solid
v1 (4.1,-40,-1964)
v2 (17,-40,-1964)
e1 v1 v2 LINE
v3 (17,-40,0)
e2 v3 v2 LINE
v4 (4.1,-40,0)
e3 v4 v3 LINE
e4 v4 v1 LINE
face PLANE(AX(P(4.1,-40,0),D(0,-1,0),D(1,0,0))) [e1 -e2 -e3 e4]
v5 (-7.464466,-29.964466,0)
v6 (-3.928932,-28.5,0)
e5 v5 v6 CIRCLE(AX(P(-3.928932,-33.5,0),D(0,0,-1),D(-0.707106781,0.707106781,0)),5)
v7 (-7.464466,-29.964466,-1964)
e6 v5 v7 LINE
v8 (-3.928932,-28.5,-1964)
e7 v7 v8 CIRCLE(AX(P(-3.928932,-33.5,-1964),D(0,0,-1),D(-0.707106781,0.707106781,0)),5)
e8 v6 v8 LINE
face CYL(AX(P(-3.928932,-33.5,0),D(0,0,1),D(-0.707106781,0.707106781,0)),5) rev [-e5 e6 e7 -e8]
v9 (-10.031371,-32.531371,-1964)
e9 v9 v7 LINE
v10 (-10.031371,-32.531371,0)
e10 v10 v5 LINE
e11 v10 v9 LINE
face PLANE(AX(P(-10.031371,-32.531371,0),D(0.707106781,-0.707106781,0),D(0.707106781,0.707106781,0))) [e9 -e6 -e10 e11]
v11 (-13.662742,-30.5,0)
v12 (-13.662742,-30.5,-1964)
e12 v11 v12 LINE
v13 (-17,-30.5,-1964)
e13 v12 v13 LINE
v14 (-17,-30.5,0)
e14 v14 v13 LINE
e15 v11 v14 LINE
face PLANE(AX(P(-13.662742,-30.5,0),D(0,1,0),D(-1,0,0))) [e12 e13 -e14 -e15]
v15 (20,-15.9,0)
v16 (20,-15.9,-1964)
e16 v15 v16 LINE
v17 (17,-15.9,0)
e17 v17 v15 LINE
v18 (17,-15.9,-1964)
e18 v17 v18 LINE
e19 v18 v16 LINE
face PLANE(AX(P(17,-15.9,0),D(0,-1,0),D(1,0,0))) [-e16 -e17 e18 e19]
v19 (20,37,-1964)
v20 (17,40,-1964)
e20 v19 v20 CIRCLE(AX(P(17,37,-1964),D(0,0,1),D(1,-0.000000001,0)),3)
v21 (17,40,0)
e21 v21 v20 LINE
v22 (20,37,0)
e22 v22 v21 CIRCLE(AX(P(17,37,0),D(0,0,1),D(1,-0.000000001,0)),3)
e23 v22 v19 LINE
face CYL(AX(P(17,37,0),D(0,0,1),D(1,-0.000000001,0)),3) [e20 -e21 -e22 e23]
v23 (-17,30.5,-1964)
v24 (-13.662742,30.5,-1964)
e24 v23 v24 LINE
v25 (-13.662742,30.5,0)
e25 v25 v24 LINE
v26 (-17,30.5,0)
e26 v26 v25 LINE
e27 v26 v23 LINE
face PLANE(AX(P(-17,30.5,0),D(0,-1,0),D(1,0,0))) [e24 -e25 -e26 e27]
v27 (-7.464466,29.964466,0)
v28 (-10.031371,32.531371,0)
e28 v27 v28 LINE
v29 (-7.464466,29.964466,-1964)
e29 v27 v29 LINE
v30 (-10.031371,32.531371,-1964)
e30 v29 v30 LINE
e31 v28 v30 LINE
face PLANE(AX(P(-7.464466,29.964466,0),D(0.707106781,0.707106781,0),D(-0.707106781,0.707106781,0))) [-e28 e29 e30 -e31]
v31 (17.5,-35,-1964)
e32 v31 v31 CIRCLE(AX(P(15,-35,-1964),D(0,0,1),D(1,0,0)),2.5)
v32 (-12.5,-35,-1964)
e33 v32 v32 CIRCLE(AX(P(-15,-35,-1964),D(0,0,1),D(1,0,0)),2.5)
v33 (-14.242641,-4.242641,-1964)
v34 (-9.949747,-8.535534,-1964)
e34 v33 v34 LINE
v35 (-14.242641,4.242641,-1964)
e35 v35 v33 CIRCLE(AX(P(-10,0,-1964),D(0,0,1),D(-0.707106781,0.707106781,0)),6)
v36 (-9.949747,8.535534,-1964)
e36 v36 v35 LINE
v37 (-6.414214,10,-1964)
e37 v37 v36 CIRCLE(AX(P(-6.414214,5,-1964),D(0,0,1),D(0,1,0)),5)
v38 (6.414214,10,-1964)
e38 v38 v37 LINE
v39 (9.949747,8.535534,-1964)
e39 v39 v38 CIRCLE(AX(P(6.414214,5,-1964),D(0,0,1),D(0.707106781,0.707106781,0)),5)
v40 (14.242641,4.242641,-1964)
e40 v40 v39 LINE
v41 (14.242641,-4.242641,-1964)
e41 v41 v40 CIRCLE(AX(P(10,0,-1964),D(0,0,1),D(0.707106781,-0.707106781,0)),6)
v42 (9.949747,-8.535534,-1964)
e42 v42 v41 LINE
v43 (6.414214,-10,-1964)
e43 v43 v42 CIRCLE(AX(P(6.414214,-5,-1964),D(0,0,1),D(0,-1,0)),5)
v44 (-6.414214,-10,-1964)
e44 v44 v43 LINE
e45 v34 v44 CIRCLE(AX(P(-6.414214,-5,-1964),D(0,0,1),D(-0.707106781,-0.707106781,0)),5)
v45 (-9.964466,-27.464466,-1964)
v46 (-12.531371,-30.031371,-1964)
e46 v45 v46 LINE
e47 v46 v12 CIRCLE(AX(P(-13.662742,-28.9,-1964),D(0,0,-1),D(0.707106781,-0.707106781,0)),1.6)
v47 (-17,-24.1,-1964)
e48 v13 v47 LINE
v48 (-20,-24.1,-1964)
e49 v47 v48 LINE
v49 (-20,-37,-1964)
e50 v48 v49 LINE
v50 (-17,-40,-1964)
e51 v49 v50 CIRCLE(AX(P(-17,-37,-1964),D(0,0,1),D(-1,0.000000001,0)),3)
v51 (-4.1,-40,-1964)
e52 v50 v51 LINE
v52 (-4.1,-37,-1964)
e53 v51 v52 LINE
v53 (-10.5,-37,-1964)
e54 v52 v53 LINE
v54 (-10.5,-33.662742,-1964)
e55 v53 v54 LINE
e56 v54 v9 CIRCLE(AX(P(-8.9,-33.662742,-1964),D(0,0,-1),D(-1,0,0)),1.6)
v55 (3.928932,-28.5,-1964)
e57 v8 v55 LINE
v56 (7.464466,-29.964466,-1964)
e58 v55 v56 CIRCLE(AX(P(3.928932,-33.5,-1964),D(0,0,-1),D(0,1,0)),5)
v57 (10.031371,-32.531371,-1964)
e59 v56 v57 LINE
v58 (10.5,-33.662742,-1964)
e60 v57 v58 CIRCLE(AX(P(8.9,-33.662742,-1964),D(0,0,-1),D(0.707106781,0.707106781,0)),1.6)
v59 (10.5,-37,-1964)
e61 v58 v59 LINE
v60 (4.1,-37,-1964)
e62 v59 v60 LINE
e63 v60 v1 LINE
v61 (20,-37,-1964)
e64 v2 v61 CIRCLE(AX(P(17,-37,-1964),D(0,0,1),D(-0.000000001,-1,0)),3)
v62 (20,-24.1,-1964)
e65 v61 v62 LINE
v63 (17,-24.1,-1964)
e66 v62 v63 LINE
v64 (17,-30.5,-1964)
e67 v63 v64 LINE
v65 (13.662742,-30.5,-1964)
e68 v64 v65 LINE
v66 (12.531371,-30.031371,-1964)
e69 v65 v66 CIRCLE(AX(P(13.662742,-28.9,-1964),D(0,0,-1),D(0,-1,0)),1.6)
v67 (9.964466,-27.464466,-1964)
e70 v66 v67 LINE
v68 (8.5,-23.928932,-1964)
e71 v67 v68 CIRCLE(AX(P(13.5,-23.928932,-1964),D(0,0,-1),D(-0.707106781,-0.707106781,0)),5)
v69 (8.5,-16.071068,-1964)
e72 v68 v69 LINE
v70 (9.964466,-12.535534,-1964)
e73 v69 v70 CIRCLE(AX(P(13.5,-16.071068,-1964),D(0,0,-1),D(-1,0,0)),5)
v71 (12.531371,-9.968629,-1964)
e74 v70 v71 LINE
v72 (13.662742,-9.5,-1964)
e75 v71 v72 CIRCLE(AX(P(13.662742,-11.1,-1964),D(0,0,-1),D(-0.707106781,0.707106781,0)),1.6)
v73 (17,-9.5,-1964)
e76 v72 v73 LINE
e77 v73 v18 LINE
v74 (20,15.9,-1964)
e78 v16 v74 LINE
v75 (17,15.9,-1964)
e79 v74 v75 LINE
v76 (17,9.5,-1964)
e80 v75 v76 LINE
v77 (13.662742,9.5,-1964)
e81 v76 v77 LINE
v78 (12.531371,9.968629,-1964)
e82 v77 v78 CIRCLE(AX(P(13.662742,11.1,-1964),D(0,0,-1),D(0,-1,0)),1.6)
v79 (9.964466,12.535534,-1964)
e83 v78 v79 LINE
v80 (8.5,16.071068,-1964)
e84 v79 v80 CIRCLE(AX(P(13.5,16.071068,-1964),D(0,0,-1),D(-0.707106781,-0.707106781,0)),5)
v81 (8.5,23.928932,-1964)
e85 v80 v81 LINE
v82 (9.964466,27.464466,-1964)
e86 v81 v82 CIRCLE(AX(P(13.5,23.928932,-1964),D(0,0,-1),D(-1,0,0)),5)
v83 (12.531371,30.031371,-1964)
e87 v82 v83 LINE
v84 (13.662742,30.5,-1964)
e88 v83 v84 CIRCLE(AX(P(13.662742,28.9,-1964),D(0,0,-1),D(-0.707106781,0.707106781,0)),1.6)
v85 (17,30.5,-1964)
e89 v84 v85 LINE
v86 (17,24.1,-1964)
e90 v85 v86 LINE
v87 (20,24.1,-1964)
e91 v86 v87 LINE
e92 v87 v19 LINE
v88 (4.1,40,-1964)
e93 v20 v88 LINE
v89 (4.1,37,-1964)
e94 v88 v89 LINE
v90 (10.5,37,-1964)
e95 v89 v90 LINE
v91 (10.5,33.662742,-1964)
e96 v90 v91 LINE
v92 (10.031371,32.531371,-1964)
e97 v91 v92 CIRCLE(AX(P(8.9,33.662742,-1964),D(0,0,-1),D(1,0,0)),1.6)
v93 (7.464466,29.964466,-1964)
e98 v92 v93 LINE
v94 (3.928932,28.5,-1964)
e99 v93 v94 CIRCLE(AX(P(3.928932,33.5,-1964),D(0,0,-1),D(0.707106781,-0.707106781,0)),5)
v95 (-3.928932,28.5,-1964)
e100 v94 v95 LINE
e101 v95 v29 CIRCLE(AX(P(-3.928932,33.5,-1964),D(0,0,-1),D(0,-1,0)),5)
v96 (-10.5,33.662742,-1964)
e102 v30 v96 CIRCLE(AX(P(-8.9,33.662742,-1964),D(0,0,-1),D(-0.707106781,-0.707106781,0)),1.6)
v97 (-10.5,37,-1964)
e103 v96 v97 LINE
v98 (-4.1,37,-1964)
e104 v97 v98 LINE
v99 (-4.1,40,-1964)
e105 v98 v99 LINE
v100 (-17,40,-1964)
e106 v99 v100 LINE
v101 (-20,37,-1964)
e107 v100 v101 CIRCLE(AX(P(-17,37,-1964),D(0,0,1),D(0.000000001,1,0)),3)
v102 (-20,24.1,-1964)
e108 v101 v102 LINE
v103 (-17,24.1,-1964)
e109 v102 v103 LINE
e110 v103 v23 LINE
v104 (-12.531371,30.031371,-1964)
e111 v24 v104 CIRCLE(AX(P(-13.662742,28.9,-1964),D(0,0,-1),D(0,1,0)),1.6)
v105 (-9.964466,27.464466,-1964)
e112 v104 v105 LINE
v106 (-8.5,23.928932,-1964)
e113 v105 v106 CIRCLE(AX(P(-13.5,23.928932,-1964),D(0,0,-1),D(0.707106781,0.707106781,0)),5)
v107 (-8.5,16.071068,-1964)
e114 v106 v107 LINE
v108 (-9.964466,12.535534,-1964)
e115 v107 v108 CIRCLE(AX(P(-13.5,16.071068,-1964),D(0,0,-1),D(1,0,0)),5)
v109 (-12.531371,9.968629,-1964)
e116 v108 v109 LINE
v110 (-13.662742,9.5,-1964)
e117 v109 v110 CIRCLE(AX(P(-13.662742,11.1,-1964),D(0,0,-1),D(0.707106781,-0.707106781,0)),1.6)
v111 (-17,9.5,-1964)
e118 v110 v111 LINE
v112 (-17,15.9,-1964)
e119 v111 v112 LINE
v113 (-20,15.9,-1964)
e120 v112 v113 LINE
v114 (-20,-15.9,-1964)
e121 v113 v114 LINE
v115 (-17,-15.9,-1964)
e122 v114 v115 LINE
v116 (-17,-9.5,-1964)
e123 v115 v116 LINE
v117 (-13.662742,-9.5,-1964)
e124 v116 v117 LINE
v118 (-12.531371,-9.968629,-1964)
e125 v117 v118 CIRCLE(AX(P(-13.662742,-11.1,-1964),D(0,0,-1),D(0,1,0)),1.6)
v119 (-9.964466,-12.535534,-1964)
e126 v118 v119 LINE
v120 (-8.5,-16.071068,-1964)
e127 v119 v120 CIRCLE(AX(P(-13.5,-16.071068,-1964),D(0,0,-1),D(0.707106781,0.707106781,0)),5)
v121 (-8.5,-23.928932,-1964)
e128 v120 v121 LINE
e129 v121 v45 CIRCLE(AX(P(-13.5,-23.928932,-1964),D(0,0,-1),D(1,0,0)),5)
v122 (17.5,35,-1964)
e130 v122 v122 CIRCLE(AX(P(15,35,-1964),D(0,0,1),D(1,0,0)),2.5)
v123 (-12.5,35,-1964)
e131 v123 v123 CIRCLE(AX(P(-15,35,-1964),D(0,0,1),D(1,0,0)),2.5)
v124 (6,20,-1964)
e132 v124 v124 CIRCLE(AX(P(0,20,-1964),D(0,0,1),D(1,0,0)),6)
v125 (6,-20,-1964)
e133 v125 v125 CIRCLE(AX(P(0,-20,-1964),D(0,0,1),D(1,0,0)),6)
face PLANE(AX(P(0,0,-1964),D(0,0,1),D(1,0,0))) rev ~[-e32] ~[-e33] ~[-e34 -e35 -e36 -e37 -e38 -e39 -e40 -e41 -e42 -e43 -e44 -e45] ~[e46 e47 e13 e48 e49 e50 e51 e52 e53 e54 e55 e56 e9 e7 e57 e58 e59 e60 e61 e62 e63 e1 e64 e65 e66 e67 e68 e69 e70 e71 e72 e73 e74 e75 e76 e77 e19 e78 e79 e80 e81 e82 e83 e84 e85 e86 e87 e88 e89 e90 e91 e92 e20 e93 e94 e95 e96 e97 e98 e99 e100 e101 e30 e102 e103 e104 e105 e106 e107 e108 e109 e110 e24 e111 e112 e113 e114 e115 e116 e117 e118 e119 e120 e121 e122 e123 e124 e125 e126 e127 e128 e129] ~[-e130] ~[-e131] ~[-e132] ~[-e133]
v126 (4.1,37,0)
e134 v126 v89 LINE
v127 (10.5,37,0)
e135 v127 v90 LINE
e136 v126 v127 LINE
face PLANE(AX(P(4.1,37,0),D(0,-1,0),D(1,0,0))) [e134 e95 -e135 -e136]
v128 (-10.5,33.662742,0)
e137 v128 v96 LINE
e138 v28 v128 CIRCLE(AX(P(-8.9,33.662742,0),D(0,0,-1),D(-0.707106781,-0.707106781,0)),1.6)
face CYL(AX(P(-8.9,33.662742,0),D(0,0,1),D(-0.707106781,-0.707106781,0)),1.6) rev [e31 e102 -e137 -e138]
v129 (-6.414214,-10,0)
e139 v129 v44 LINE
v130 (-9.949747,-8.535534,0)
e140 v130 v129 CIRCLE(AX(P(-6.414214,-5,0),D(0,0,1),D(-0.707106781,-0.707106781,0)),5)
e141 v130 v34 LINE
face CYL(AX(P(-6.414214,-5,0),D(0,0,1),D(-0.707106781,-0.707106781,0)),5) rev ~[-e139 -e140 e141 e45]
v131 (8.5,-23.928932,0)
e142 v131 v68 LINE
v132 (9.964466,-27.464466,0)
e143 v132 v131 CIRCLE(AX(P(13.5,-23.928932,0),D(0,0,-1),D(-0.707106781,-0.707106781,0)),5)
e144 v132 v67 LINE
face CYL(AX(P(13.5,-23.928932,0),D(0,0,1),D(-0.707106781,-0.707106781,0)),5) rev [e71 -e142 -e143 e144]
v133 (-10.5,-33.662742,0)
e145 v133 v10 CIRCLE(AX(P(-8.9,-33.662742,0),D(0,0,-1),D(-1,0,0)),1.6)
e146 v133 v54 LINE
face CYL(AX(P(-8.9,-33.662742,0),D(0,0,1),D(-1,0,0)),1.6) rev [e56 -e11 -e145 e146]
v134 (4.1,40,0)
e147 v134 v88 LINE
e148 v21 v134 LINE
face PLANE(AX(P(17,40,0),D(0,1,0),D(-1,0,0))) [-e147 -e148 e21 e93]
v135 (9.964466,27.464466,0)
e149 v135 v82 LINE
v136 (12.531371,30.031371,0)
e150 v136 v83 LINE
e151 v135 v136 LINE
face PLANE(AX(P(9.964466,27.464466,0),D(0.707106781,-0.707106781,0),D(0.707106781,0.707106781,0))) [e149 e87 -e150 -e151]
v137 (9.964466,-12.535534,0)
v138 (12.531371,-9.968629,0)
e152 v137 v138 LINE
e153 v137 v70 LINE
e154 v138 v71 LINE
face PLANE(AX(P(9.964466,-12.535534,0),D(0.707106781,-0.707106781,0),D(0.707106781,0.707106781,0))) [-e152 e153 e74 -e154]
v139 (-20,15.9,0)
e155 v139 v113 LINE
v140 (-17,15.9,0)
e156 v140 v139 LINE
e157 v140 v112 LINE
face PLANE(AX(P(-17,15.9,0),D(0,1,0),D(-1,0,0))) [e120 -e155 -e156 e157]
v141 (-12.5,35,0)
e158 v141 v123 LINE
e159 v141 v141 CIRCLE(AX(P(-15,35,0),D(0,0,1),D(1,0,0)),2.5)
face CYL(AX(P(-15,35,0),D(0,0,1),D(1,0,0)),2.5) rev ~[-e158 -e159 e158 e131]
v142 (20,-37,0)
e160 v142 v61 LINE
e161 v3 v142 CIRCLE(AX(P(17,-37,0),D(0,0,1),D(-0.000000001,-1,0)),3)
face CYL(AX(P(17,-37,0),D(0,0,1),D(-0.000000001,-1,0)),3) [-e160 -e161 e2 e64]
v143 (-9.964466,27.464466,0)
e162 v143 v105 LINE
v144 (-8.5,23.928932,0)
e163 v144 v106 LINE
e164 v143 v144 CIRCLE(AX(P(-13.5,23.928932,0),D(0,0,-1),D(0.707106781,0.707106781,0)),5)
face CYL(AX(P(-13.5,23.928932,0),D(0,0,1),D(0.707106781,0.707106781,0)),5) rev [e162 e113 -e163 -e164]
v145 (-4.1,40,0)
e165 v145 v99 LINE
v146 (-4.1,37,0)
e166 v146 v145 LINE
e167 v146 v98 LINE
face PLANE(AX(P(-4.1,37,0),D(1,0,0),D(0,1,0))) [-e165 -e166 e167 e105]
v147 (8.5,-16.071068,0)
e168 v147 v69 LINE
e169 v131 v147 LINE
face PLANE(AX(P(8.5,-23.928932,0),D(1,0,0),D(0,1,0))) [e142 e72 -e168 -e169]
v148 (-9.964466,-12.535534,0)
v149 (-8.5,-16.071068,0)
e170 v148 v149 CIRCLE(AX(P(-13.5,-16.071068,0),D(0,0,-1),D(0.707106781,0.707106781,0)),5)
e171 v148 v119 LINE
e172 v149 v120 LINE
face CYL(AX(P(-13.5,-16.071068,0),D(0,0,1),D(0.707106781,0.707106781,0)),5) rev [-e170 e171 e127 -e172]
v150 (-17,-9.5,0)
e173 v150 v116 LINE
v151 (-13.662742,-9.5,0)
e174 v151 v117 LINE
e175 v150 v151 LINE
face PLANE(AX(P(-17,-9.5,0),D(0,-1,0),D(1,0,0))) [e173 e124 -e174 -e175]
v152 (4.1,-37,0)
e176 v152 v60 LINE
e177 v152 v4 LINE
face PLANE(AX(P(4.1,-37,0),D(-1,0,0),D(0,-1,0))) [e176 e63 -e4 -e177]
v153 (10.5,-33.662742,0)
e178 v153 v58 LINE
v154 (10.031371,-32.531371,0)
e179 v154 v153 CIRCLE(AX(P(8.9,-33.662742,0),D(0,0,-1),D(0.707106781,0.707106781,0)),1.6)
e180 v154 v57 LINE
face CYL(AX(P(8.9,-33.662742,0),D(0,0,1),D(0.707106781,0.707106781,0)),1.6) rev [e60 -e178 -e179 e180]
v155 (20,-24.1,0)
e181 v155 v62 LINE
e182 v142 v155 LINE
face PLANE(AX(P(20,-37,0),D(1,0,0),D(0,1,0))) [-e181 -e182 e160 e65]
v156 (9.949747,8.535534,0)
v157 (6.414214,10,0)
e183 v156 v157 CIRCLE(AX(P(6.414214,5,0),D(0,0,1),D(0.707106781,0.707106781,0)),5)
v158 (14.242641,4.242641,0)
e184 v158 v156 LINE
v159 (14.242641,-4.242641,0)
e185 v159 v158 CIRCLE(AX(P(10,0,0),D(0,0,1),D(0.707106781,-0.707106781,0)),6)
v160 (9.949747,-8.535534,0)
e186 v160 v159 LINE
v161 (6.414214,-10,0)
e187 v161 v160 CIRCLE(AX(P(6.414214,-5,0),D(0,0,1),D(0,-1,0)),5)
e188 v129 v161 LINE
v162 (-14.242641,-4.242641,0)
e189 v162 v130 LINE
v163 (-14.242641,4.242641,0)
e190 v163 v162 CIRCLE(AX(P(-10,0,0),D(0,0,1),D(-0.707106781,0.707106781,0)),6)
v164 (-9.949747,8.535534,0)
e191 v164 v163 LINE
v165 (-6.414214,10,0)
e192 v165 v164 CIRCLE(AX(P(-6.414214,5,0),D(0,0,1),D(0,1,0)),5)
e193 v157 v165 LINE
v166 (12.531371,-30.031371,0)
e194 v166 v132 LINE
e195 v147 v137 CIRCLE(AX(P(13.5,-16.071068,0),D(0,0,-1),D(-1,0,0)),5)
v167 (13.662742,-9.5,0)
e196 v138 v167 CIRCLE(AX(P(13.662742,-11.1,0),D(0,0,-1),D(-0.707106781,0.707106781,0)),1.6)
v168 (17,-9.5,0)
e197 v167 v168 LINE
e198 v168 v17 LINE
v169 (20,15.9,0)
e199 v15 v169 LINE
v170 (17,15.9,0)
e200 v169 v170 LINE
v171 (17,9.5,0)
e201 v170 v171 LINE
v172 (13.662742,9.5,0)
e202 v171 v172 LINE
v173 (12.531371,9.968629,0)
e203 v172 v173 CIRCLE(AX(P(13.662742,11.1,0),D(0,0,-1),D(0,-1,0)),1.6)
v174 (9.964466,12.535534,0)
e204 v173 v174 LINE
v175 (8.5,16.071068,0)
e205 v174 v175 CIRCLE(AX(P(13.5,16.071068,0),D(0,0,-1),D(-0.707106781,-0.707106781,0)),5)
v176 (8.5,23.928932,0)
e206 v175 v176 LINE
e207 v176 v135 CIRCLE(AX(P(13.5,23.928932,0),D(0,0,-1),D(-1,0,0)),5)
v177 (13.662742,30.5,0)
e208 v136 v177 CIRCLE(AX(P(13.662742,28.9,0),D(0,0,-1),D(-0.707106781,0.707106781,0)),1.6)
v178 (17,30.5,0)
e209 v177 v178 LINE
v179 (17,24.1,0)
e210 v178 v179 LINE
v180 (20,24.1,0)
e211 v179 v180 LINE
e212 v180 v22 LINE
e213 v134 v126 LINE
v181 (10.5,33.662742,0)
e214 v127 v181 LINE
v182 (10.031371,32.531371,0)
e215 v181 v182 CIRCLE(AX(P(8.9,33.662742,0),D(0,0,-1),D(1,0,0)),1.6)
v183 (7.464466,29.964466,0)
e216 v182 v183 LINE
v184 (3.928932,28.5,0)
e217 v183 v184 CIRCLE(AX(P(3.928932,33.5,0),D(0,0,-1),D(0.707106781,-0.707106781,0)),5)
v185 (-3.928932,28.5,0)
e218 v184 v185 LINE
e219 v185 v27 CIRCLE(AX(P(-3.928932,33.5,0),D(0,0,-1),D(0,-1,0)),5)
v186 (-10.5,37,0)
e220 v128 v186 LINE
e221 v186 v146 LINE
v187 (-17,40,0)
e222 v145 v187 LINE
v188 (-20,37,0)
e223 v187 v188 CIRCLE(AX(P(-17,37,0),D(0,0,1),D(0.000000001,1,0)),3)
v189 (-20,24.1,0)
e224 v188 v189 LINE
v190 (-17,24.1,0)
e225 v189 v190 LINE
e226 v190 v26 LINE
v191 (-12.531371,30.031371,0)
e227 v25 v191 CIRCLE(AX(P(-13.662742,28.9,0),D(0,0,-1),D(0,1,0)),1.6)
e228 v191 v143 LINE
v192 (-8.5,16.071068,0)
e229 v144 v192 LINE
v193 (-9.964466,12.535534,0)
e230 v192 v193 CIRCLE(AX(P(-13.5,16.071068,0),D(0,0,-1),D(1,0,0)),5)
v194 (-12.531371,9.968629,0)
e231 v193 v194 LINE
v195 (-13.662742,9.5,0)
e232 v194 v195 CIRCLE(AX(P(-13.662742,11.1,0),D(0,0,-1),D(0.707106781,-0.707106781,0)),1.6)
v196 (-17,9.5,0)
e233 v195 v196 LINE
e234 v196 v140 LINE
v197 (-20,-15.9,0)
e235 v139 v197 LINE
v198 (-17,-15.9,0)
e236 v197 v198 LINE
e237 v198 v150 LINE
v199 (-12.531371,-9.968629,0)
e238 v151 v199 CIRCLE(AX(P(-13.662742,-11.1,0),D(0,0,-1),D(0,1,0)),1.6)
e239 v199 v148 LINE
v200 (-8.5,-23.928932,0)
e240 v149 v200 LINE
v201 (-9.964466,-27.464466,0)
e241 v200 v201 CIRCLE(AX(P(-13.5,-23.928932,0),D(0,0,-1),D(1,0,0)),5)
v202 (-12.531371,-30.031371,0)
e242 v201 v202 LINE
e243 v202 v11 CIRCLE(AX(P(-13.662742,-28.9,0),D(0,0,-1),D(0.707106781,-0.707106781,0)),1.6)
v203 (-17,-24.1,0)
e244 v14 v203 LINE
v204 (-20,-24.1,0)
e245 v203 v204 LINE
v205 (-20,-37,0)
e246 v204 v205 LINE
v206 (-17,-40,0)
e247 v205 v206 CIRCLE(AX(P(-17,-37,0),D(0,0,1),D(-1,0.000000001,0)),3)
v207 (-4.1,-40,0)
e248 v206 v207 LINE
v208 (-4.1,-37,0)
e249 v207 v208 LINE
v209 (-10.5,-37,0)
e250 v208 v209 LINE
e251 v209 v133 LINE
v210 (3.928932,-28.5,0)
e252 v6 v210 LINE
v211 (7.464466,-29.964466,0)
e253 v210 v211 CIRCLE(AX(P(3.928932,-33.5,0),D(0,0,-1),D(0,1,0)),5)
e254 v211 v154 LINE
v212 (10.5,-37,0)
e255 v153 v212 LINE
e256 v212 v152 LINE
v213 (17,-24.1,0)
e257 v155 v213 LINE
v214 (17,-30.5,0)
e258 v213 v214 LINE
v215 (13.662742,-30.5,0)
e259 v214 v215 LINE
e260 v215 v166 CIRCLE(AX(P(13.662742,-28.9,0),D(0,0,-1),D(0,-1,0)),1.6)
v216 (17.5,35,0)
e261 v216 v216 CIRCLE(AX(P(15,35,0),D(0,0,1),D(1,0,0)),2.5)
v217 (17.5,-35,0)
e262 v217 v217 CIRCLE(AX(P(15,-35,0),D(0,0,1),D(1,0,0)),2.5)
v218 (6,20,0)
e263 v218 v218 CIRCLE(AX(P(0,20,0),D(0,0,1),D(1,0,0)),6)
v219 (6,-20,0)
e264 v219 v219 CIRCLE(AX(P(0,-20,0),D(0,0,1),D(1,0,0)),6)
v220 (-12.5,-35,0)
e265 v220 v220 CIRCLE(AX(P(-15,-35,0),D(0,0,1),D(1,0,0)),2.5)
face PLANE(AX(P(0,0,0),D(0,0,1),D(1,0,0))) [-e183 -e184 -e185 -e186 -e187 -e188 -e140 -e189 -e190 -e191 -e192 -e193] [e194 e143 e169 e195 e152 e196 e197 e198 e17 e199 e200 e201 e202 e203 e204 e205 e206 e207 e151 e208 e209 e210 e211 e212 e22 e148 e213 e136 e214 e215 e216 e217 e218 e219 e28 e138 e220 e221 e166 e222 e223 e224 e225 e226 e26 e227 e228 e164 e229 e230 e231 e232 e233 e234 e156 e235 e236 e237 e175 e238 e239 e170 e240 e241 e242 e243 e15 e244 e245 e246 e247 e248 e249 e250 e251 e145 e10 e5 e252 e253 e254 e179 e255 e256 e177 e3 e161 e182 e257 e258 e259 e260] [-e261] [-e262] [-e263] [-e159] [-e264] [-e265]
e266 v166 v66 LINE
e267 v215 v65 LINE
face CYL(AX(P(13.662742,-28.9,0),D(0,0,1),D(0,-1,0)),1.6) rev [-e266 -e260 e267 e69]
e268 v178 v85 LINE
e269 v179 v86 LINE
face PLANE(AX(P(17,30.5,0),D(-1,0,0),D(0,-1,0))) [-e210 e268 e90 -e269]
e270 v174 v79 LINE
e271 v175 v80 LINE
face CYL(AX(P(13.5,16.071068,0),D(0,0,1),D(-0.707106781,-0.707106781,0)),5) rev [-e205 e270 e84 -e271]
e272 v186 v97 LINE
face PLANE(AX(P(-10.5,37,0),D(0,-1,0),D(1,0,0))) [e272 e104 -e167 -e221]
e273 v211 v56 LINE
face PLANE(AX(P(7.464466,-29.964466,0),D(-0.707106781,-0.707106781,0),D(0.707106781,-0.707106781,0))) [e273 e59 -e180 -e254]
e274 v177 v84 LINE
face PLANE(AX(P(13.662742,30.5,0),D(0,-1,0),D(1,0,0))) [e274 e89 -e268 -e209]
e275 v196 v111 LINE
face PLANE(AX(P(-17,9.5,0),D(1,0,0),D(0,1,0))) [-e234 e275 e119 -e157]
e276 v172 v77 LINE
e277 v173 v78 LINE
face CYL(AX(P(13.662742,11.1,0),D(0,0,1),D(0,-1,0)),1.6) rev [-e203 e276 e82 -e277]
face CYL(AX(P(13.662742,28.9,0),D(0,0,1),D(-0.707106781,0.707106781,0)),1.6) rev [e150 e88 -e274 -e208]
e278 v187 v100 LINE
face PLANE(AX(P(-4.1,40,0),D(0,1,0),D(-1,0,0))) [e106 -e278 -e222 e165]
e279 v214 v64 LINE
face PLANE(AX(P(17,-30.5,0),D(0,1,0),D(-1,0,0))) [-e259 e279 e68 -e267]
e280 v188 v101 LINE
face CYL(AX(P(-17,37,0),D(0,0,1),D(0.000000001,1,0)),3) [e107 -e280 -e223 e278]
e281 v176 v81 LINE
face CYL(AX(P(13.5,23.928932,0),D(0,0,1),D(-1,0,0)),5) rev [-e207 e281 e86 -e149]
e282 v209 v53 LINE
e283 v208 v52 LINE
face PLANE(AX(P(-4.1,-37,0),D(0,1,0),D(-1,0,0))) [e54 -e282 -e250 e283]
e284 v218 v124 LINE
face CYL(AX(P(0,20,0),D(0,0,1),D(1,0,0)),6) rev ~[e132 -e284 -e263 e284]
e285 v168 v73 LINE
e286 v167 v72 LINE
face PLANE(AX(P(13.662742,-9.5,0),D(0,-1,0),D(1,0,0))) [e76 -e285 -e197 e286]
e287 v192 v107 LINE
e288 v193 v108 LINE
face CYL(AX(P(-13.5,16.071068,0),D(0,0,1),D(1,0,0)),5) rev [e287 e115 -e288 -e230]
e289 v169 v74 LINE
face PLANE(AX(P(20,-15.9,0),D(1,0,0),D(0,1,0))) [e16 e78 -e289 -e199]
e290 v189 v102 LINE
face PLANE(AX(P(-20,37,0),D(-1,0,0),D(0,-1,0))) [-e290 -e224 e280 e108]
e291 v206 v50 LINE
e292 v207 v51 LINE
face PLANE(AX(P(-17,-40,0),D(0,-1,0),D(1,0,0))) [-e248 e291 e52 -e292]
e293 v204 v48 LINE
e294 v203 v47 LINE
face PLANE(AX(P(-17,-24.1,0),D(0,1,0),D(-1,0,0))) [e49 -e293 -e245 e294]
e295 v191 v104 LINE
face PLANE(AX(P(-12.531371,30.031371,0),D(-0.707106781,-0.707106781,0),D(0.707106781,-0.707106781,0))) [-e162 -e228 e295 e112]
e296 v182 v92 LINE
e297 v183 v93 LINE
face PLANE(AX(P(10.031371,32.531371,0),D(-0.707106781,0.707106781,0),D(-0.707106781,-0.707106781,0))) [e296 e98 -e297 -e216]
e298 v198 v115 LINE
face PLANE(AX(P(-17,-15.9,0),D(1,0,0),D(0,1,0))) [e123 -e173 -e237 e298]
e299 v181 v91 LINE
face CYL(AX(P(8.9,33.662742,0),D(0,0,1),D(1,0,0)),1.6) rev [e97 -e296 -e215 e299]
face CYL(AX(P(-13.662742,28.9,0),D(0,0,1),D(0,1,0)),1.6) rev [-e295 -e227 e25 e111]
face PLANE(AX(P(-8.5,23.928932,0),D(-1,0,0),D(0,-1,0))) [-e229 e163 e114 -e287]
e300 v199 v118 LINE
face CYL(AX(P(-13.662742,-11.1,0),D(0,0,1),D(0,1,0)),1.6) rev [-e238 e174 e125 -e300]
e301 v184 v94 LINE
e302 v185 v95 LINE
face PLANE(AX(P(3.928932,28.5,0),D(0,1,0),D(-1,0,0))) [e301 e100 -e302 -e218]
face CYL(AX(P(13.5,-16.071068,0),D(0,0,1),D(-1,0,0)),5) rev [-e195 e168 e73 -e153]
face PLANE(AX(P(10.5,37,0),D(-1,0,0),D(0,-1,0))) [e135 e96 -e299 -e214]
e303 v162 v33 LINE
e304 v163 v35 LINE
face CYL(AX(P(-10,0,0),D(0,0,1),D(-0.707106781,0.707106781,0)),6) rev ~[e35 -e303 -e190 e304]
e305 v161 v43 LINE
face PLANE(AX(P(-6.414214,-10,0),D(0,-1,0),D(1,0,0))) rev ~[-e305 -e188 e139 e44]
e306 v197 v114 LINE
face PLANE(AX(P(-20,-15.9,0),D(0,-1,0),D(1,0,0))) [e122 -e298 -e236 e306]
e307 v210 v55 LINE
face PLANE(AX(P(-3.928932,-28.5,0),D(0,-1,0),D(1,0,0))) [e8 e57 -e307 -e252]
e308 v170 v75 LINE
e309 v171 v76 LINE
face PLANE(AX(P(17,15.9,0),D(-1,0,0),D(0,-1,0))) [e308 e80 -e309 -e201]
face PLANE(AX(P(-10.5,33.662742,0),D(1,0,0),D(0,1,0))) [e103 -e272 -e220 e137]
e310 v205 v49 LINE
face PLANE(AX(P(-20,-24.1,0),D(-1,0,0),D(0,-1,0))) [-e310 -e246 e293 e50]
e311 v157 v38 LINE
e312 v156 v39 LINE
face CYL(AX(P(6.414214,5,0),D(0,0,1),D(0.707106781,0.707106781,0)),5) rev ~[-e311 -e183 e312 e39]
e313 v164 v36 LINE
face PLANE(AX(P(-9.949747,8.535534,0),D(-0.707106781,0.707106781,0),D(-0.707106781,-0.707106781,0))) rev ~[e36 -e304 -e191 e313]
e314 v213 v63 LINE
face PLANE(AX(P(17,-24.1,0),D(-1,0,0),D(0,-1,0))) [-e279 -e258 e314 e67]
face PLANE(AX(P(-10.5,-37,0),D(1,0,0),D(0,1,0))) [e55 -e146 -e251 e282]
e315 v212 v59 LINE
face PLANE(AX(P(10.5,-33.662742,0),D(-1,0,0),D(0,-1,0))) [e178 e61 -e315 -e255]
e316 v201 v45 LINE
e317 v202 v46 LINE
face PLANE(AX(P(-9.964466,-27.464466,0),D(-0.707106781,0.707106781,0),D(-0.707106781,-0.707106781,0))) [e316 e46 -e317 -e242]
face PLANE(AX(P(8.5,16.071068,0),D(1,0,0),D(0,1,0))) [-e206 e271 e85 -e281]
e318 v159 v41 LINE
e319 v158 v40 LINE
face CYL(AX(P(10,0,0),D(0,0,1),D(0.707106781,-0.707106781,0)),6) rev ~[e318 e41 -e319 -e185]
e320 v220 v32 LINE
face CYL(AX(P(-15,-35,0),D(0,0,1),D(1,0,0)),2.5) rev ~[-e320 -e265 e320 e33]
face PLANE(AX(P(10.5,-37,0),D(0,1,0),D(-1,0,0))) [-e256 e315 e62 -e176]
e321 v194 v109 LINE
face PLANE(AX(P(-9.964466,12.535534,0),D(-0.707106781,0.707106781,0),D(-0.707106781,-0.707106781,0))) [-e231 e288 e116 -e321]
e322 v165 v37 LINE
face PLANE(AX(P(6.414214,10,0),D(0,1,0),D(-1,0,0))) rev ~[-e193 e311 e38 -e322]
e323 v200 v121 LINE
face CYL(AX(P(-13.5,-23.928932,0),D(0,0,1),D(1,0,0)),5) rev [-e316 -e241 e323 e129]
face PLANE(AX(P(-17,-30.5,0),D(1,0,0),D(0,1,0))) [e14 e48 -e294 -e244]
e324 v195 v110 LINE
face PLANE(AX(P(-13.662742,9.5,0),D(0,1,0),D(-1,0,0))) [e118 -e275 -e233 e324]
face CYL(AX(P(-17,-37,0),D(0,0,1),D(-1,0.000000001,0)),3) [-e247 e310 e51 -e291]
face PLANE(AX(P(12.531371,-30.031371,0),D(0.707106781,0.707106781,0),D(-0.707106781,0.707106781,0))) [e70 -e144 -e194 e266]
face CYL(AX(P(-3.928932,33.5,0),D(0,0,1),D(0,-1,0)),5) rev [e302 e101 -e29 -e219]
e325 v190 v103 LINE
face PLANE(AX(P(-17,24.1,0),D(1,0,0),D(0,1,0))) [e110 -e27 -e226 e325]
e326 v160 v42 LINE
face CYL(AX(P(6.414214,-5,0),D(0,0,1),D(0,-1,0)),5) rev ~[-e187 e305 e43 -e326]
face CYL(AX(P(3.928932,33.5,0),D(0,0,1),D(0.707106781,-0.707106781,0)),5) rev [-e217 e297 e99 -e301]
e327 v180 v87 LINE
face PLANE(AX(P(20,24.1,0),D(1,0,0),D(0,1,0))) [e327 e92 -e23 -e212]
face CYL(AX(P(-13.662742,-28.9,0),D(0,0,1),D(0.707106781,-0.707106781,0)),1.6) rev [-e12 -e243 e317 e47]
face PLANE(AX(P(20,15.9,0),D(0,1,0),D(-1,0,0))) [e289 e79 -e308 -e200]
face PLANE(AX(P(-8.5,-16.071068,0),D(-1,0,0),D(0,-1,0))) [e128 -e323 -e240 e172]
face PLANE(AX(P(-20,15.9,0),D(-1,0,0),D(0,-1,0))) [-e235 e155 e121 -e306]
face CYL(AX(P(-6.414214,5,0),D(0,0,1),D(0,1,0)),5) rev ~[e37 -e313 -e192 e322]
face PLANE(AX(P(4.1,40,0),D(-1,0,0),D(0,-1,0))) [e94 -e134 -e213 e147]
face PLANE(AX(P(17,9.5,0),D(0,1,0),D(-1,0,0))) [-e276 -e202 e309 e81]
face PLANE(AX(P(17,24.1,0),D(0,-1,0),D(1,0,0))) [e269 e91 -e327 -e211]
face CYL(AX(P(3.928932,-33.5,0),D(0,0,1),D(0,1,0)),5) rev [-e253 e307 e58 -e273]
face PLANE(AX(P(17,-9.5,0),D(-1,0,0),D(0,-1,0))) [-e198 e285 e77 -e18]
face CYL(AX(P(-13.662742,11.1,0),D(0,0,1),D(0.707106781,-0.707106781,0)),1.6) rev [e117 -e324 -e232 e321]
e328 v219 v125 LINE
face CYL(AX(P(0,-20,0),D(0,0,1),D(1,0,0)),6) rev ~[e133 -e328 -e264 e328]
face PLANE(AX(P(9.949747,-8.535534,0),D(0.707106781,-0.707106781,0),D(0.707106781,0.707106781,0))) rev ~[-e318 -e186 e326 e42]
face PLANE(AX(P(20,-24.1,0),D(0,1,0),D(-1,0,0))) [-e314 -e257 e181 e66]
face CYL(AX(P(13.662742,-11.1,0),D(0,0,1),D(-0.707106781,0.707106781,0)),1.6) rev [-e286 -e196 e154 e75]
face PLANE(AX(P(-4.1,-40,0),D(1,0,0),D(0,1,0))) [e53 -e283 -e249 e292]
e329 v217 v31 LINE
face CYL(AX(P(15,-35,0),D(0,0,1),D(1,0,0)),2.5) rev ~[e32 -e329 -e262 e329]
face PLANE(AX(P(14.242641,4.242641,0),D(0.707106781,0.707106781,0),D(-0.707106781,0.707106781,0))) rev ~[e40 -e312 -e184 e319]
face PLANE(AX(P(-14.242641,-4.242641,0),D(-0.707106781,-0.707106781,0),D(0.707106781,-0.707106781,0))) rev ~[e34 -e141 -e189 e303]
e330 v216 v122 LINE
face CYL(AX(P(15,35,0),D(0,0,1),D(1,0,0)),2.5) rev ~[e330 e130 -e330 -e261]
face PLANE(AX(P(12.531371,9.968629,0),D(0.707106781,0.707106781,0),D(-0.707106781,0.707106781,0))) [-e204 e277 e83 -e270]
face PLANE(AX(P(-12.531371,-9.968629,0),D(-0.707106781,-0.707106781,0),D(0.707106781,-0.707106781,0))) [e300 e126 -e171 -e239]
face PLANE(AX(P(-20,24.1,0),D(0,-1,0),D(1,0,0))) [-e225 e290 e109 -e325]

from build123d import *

# Parameters (mm, degrees)
SKETCH1_R           = 2.5
SKETCH1_R_2         = 6
BOSS_EXTRUDE1_DEPTH = 1964


with BuildPart() as part:
    # Sketch1 → Boss-Extrude1 (new body)
    with BuildSketch(Plane.XY):
        with BuildLine():
            Line((-17, -40), (-4.1, -40))
            Line((-4.1, -40), (-4.1, -37))
            Line((-4.1, -37), (-10.5, -37))
            Line((-10.5, -37), (-10.5, -33.6627417))
            ThreePointArc((-10.5, -33.6627417), (-10.378207252, -33.050448208), (-10.03137085, -32.53137085))
            Line((-10.03137085, -32.53137085), (-7.464466094, -29.964466094))
            ThreePointArc((-7.464466094, -29.964466094), (-5.84234935, -28.880602337), (-3.928932188, -28.5))
            Line((-3.928932188, -28.5), (3.928932188, -28.5))
            ThreePointArc((3.928932188, -28.5), (5.84234935, -28.880602337), (7.464466094, -29.964466094))
            Line((7.464466094, -29.964466094), (10.03137085, -32.53137085))
            ThreePointArc((10.03137085, -32.53137085), (10.378207252, -33.050448208), (10.5, -33.6627417))
            Line((10.5, -33.6627417), (10.5, -37))
            Line((10.5, -37), (4.1, -37))
            Line((4.1, -37), (4.1, -40))
            Line((4.1, -40), (17, -40))
            ThreePointArc((17, -40), (19.121320344, -39.121320344), (20, -37))
            Line((20, -37), (20, -24.1))
            Line((20, -24.1), (17, -24.1))
            Line((17, -24.1), (17, -30.5))
            Line((17, -30.5), (13.6627417, -30.5))
            ThreePointArc((13.6627417, -30.5), (13.050448208, -30.378207252), (12.53137085, -30.03137085))
            Line((12.53137085, -30.03137085), (9.964466094, -27.464466094))
            ThreePointArc((9.964466094, -27.464466094), (8.880602337, -25.84234935), (8.5, -23.928932188))
            Line((8.5, -23.928932188), (8.5, -16.071067812))
            ThreePointArc((8.5, -16.071067812), (8.880602337, -14.15765065), (9.964466094, -12.535533906))
            Line((9.964466094, -12.535533906), (12.53137085, -9.96862915))
            ThreePointArc((12.53137085, -9.96862915), (13.050448208, -9.621792748), (13.6627417, -9.5))
            Line((13.6627417, -9.5), (17, -9.5))
            Line((17, -9.5), (17, -15.9))
            Line((17, -15.9), (20, -15.9))
            Line((20, -15.9), (20, 15.9))
            Line((20, 15.9), (17, 15.9))
            Line((17, 15.9), (17, 9.5))
            Line((17, 9.5), (13.6627417, 9.5))
            ThreePointArc((13.6627417, 9.5), (13.050448208, 9.621792748), (12.53137085, 9.96862915))
            Line((12.53137085, 9.96862915), (9.964466094, 12.535533906))
            ThreePointArc((9.964466094, 12.535533906), (8.880602337, 14.15765065), (8.5, 16.071067812))
            Line((8.5, 16.071067812), (8.5, 23.928932188))
            ThreePointArc((8.5, 23.928932188), (8.880602337, 25.84234935), (9.964466094, 27.464466094))
            Line((9.964466094, 27.464466094), (12.53137085, 30.03137085))
            ThreePointArc((12.53137085, 30.03137085), (13.050448208, 30.378207252), (13.6627417, 30.5))
            Line((13.6627417, 30.5), (17, 30.5))
            Line((17, 30.5), (17, 24.1))
            Line((17, 24.1), (20, 24.1))
            Line((20, 24.1), (20, 37))
            ThreePointArc((20, 37), (19.121320344, 39.121320344), (17, 40))
            Line((17, 40), (4.1, 40))
            Line((4.1, 40), (4.1, 37))
            Line((4.1, 37), (10.5, 37))
            Line((10.5, 37), (10.5, 33.6627417))
            ThreePointArc((10.5, 33.6627417), (10.378207252, 33.050448208), (10.03137085, 32.53137085))
            Line((10.03137085, 32.53137085), (7.464466094, 29.964466094))
            ThreePointArc((7.464466094, 29.964466094), (5.84234935, 28.880602337), (3.928932188, 28.5))
            Line((3.928932188, 28.5), (-3.928932188, 28.5))
            ThreePointArc((-3.928932188, 28.5), (-5.84234935, 28.880602337), (-7.464466094, 29.964466094))
            Line((-7.464466094, 29.964466094), (-10.03137085, 32.53137085))
            ThreePointArc((-10.03137085, 32.53137085), (-10.378207252, 33.050448208), (-10.5, 33.6627417))
            Line((-10.5, 33.6627417), (-10.5, 37))
            Line((-10.5, 37), (-4.1, 37))
            Line((-4.1, 37), (-4.1, 40))
            Line((-4.1, 40), (-17, 40))
            ThreePointArc((-17, 40), (-19.121320344, 39.121320344), (-20, 37))
            Line((-20, 37), (-20, 24.1))
            Line((-20, 24.1), (-17, 24.1))
            Line((-17, 24.1), (-17, 30.5))
            Line((-17, 30.5), (-13.6627417, 30.5))
            ThreePointArc((-13.6627417, 30.5), (-13.050448208, 30.378207252), (-12.53137085, 30.03137085))
            Line((-12.53137085, 30.03137085), (-9.964466094, 27.464466094))
            ThreePointArc((-9.964466094, 27.464466094), (-8.880602337, 25.84234935), (-8.5, 23.928932188))
            Line((-8.5, 23.928932188), (-8.5, 16.071067812))
            ThreePointArc((-8.5, 16.071067812), (-8.880602337, 14.15765065), (-9.964466094, 12.535533906))
            Line((-9.964466094, 12.535533906), (-12.53137085, 9.96862915))
            ThreePointArc((-12.53137085, 9.96862915), (-13.050448208, 9.621792748), (-13.6627417, 9.5))
            Line((-13.6627417, 9.5), (-17, 9.5))
            Line((-17, 9.5), (-17, 15.9))
            Line((-17, 15.9), (-20, 15.9))
            Line((-20, 15.9), (-20, -15.9))
            Line((-20, -15.9), (-17, -15.9))
            Line((-17, -15.9), (-17, -9.5))
            Line((-17, -9.5), (-13.6627417, -9.5))
            ThreePointArc((-13.6627417, -9.5), (-13.050448208, -9.621792748), (-12.53137085, -9.96862915))
            Line((-12.53137085, -9.96862915), (-9.964466094, -12.535533906))
            ThreePointArc((-9.964466094, -12.535533906), (-8.880602337, -14.15765065), (-8.5, -16.071067812))
            Line((-8.5, -16.071067812), (-8.5, -23.928932188))
            ThreePointArc((-8.5, -23.928932188), (-8.880602337, -25.84234935), (-9.964466094, -27.464466094))
            Line((-9.964466094, -27.464466094), (-12.53137085, -30.03137085))
            ThreePointArc((-12.53137085, -30.03137085), (-13.050448208, -30.378207252), (-13.6627417, -30.5))
            Line((-13.6627417, -30.5), (-17, -30.5))
            Line((-17, -30.5), (-17, -24.1))
            Line((-17, -24.1), (-20, -24.1))
            Line((-20, -24.1), (-20, -37))
            ThreePointArc((-20, -37), (-19.121320344, -39.121320344), (-17, -40))
        make_face()
        with Locations((15, 35)):
            Circle(SKETCH1_R, mode=Mode.SUBTRACT)
        with Locations((15, -35)):
            Circle(SKETCH1_R, mode=Mode.SUBTRACT)
        with Locations((0, 20)):
            Circle(SKETCH1_R_2, mode=Mode.SUBTRACT)
        with Locations((0, -20)):
            Circle(SKETCH1_R_2, mode=Mode.SUBTRACT)
        with Locations((-15, 35)):
            Circle(SKETCH1_R, mode=Mode.SUBTRACT)
        with Locations((-15, -35)):
            Circle(SKETCH1_R, mode=Mode.SUBTRACT)
        with BuildLine():
            Line((-14.242640687, -4.242640687), (-9.949747468, -8.535533906))
            ThreePointArc((-9.949747468, -8.535533906), (-8.327630724, -9.619397663), (-6.414213562, -10))
            Line((-6.414213562, -10), (6.414213562, -10))
            ThreePointArc((6.414213562, -10), (8.327630724, -9.619397663), (9.949747468, -8.535533906))
            Line((9.949747468, -8.535533906), (14.242640687, -4.242640687))
            ThreePointArc((14.242640687, -4.242640687), (16, 0), (14.242640687, 4.242640687))
            Line((14.242640687, 4.242640687), (9.949747468, 8.535533906))
            ThreePointArc((9.949747468, 8.535533906), (8.327630724, 9.619397663), (6.414213562, 10))
            Line((6.414213562, 10), (-6.414213562, 10))
            ThreePointArc((-6.414213562, 10), (-8.327630724, 9.619397663), (-9.949747468, 8.535533906))
            Line((-9.949747468, 8.535533906), (-14.242640687, 4.242640687))
            ThreePointArc((-14.242640687, 4.242640687), (-16, 0), (-14.242640687, -4.242640687))
        make_face(mode=Mode.SUBTRACT)
    extrude(amount=-BOSS_EXTRUDE1_DEPTH)


solid = part.part
